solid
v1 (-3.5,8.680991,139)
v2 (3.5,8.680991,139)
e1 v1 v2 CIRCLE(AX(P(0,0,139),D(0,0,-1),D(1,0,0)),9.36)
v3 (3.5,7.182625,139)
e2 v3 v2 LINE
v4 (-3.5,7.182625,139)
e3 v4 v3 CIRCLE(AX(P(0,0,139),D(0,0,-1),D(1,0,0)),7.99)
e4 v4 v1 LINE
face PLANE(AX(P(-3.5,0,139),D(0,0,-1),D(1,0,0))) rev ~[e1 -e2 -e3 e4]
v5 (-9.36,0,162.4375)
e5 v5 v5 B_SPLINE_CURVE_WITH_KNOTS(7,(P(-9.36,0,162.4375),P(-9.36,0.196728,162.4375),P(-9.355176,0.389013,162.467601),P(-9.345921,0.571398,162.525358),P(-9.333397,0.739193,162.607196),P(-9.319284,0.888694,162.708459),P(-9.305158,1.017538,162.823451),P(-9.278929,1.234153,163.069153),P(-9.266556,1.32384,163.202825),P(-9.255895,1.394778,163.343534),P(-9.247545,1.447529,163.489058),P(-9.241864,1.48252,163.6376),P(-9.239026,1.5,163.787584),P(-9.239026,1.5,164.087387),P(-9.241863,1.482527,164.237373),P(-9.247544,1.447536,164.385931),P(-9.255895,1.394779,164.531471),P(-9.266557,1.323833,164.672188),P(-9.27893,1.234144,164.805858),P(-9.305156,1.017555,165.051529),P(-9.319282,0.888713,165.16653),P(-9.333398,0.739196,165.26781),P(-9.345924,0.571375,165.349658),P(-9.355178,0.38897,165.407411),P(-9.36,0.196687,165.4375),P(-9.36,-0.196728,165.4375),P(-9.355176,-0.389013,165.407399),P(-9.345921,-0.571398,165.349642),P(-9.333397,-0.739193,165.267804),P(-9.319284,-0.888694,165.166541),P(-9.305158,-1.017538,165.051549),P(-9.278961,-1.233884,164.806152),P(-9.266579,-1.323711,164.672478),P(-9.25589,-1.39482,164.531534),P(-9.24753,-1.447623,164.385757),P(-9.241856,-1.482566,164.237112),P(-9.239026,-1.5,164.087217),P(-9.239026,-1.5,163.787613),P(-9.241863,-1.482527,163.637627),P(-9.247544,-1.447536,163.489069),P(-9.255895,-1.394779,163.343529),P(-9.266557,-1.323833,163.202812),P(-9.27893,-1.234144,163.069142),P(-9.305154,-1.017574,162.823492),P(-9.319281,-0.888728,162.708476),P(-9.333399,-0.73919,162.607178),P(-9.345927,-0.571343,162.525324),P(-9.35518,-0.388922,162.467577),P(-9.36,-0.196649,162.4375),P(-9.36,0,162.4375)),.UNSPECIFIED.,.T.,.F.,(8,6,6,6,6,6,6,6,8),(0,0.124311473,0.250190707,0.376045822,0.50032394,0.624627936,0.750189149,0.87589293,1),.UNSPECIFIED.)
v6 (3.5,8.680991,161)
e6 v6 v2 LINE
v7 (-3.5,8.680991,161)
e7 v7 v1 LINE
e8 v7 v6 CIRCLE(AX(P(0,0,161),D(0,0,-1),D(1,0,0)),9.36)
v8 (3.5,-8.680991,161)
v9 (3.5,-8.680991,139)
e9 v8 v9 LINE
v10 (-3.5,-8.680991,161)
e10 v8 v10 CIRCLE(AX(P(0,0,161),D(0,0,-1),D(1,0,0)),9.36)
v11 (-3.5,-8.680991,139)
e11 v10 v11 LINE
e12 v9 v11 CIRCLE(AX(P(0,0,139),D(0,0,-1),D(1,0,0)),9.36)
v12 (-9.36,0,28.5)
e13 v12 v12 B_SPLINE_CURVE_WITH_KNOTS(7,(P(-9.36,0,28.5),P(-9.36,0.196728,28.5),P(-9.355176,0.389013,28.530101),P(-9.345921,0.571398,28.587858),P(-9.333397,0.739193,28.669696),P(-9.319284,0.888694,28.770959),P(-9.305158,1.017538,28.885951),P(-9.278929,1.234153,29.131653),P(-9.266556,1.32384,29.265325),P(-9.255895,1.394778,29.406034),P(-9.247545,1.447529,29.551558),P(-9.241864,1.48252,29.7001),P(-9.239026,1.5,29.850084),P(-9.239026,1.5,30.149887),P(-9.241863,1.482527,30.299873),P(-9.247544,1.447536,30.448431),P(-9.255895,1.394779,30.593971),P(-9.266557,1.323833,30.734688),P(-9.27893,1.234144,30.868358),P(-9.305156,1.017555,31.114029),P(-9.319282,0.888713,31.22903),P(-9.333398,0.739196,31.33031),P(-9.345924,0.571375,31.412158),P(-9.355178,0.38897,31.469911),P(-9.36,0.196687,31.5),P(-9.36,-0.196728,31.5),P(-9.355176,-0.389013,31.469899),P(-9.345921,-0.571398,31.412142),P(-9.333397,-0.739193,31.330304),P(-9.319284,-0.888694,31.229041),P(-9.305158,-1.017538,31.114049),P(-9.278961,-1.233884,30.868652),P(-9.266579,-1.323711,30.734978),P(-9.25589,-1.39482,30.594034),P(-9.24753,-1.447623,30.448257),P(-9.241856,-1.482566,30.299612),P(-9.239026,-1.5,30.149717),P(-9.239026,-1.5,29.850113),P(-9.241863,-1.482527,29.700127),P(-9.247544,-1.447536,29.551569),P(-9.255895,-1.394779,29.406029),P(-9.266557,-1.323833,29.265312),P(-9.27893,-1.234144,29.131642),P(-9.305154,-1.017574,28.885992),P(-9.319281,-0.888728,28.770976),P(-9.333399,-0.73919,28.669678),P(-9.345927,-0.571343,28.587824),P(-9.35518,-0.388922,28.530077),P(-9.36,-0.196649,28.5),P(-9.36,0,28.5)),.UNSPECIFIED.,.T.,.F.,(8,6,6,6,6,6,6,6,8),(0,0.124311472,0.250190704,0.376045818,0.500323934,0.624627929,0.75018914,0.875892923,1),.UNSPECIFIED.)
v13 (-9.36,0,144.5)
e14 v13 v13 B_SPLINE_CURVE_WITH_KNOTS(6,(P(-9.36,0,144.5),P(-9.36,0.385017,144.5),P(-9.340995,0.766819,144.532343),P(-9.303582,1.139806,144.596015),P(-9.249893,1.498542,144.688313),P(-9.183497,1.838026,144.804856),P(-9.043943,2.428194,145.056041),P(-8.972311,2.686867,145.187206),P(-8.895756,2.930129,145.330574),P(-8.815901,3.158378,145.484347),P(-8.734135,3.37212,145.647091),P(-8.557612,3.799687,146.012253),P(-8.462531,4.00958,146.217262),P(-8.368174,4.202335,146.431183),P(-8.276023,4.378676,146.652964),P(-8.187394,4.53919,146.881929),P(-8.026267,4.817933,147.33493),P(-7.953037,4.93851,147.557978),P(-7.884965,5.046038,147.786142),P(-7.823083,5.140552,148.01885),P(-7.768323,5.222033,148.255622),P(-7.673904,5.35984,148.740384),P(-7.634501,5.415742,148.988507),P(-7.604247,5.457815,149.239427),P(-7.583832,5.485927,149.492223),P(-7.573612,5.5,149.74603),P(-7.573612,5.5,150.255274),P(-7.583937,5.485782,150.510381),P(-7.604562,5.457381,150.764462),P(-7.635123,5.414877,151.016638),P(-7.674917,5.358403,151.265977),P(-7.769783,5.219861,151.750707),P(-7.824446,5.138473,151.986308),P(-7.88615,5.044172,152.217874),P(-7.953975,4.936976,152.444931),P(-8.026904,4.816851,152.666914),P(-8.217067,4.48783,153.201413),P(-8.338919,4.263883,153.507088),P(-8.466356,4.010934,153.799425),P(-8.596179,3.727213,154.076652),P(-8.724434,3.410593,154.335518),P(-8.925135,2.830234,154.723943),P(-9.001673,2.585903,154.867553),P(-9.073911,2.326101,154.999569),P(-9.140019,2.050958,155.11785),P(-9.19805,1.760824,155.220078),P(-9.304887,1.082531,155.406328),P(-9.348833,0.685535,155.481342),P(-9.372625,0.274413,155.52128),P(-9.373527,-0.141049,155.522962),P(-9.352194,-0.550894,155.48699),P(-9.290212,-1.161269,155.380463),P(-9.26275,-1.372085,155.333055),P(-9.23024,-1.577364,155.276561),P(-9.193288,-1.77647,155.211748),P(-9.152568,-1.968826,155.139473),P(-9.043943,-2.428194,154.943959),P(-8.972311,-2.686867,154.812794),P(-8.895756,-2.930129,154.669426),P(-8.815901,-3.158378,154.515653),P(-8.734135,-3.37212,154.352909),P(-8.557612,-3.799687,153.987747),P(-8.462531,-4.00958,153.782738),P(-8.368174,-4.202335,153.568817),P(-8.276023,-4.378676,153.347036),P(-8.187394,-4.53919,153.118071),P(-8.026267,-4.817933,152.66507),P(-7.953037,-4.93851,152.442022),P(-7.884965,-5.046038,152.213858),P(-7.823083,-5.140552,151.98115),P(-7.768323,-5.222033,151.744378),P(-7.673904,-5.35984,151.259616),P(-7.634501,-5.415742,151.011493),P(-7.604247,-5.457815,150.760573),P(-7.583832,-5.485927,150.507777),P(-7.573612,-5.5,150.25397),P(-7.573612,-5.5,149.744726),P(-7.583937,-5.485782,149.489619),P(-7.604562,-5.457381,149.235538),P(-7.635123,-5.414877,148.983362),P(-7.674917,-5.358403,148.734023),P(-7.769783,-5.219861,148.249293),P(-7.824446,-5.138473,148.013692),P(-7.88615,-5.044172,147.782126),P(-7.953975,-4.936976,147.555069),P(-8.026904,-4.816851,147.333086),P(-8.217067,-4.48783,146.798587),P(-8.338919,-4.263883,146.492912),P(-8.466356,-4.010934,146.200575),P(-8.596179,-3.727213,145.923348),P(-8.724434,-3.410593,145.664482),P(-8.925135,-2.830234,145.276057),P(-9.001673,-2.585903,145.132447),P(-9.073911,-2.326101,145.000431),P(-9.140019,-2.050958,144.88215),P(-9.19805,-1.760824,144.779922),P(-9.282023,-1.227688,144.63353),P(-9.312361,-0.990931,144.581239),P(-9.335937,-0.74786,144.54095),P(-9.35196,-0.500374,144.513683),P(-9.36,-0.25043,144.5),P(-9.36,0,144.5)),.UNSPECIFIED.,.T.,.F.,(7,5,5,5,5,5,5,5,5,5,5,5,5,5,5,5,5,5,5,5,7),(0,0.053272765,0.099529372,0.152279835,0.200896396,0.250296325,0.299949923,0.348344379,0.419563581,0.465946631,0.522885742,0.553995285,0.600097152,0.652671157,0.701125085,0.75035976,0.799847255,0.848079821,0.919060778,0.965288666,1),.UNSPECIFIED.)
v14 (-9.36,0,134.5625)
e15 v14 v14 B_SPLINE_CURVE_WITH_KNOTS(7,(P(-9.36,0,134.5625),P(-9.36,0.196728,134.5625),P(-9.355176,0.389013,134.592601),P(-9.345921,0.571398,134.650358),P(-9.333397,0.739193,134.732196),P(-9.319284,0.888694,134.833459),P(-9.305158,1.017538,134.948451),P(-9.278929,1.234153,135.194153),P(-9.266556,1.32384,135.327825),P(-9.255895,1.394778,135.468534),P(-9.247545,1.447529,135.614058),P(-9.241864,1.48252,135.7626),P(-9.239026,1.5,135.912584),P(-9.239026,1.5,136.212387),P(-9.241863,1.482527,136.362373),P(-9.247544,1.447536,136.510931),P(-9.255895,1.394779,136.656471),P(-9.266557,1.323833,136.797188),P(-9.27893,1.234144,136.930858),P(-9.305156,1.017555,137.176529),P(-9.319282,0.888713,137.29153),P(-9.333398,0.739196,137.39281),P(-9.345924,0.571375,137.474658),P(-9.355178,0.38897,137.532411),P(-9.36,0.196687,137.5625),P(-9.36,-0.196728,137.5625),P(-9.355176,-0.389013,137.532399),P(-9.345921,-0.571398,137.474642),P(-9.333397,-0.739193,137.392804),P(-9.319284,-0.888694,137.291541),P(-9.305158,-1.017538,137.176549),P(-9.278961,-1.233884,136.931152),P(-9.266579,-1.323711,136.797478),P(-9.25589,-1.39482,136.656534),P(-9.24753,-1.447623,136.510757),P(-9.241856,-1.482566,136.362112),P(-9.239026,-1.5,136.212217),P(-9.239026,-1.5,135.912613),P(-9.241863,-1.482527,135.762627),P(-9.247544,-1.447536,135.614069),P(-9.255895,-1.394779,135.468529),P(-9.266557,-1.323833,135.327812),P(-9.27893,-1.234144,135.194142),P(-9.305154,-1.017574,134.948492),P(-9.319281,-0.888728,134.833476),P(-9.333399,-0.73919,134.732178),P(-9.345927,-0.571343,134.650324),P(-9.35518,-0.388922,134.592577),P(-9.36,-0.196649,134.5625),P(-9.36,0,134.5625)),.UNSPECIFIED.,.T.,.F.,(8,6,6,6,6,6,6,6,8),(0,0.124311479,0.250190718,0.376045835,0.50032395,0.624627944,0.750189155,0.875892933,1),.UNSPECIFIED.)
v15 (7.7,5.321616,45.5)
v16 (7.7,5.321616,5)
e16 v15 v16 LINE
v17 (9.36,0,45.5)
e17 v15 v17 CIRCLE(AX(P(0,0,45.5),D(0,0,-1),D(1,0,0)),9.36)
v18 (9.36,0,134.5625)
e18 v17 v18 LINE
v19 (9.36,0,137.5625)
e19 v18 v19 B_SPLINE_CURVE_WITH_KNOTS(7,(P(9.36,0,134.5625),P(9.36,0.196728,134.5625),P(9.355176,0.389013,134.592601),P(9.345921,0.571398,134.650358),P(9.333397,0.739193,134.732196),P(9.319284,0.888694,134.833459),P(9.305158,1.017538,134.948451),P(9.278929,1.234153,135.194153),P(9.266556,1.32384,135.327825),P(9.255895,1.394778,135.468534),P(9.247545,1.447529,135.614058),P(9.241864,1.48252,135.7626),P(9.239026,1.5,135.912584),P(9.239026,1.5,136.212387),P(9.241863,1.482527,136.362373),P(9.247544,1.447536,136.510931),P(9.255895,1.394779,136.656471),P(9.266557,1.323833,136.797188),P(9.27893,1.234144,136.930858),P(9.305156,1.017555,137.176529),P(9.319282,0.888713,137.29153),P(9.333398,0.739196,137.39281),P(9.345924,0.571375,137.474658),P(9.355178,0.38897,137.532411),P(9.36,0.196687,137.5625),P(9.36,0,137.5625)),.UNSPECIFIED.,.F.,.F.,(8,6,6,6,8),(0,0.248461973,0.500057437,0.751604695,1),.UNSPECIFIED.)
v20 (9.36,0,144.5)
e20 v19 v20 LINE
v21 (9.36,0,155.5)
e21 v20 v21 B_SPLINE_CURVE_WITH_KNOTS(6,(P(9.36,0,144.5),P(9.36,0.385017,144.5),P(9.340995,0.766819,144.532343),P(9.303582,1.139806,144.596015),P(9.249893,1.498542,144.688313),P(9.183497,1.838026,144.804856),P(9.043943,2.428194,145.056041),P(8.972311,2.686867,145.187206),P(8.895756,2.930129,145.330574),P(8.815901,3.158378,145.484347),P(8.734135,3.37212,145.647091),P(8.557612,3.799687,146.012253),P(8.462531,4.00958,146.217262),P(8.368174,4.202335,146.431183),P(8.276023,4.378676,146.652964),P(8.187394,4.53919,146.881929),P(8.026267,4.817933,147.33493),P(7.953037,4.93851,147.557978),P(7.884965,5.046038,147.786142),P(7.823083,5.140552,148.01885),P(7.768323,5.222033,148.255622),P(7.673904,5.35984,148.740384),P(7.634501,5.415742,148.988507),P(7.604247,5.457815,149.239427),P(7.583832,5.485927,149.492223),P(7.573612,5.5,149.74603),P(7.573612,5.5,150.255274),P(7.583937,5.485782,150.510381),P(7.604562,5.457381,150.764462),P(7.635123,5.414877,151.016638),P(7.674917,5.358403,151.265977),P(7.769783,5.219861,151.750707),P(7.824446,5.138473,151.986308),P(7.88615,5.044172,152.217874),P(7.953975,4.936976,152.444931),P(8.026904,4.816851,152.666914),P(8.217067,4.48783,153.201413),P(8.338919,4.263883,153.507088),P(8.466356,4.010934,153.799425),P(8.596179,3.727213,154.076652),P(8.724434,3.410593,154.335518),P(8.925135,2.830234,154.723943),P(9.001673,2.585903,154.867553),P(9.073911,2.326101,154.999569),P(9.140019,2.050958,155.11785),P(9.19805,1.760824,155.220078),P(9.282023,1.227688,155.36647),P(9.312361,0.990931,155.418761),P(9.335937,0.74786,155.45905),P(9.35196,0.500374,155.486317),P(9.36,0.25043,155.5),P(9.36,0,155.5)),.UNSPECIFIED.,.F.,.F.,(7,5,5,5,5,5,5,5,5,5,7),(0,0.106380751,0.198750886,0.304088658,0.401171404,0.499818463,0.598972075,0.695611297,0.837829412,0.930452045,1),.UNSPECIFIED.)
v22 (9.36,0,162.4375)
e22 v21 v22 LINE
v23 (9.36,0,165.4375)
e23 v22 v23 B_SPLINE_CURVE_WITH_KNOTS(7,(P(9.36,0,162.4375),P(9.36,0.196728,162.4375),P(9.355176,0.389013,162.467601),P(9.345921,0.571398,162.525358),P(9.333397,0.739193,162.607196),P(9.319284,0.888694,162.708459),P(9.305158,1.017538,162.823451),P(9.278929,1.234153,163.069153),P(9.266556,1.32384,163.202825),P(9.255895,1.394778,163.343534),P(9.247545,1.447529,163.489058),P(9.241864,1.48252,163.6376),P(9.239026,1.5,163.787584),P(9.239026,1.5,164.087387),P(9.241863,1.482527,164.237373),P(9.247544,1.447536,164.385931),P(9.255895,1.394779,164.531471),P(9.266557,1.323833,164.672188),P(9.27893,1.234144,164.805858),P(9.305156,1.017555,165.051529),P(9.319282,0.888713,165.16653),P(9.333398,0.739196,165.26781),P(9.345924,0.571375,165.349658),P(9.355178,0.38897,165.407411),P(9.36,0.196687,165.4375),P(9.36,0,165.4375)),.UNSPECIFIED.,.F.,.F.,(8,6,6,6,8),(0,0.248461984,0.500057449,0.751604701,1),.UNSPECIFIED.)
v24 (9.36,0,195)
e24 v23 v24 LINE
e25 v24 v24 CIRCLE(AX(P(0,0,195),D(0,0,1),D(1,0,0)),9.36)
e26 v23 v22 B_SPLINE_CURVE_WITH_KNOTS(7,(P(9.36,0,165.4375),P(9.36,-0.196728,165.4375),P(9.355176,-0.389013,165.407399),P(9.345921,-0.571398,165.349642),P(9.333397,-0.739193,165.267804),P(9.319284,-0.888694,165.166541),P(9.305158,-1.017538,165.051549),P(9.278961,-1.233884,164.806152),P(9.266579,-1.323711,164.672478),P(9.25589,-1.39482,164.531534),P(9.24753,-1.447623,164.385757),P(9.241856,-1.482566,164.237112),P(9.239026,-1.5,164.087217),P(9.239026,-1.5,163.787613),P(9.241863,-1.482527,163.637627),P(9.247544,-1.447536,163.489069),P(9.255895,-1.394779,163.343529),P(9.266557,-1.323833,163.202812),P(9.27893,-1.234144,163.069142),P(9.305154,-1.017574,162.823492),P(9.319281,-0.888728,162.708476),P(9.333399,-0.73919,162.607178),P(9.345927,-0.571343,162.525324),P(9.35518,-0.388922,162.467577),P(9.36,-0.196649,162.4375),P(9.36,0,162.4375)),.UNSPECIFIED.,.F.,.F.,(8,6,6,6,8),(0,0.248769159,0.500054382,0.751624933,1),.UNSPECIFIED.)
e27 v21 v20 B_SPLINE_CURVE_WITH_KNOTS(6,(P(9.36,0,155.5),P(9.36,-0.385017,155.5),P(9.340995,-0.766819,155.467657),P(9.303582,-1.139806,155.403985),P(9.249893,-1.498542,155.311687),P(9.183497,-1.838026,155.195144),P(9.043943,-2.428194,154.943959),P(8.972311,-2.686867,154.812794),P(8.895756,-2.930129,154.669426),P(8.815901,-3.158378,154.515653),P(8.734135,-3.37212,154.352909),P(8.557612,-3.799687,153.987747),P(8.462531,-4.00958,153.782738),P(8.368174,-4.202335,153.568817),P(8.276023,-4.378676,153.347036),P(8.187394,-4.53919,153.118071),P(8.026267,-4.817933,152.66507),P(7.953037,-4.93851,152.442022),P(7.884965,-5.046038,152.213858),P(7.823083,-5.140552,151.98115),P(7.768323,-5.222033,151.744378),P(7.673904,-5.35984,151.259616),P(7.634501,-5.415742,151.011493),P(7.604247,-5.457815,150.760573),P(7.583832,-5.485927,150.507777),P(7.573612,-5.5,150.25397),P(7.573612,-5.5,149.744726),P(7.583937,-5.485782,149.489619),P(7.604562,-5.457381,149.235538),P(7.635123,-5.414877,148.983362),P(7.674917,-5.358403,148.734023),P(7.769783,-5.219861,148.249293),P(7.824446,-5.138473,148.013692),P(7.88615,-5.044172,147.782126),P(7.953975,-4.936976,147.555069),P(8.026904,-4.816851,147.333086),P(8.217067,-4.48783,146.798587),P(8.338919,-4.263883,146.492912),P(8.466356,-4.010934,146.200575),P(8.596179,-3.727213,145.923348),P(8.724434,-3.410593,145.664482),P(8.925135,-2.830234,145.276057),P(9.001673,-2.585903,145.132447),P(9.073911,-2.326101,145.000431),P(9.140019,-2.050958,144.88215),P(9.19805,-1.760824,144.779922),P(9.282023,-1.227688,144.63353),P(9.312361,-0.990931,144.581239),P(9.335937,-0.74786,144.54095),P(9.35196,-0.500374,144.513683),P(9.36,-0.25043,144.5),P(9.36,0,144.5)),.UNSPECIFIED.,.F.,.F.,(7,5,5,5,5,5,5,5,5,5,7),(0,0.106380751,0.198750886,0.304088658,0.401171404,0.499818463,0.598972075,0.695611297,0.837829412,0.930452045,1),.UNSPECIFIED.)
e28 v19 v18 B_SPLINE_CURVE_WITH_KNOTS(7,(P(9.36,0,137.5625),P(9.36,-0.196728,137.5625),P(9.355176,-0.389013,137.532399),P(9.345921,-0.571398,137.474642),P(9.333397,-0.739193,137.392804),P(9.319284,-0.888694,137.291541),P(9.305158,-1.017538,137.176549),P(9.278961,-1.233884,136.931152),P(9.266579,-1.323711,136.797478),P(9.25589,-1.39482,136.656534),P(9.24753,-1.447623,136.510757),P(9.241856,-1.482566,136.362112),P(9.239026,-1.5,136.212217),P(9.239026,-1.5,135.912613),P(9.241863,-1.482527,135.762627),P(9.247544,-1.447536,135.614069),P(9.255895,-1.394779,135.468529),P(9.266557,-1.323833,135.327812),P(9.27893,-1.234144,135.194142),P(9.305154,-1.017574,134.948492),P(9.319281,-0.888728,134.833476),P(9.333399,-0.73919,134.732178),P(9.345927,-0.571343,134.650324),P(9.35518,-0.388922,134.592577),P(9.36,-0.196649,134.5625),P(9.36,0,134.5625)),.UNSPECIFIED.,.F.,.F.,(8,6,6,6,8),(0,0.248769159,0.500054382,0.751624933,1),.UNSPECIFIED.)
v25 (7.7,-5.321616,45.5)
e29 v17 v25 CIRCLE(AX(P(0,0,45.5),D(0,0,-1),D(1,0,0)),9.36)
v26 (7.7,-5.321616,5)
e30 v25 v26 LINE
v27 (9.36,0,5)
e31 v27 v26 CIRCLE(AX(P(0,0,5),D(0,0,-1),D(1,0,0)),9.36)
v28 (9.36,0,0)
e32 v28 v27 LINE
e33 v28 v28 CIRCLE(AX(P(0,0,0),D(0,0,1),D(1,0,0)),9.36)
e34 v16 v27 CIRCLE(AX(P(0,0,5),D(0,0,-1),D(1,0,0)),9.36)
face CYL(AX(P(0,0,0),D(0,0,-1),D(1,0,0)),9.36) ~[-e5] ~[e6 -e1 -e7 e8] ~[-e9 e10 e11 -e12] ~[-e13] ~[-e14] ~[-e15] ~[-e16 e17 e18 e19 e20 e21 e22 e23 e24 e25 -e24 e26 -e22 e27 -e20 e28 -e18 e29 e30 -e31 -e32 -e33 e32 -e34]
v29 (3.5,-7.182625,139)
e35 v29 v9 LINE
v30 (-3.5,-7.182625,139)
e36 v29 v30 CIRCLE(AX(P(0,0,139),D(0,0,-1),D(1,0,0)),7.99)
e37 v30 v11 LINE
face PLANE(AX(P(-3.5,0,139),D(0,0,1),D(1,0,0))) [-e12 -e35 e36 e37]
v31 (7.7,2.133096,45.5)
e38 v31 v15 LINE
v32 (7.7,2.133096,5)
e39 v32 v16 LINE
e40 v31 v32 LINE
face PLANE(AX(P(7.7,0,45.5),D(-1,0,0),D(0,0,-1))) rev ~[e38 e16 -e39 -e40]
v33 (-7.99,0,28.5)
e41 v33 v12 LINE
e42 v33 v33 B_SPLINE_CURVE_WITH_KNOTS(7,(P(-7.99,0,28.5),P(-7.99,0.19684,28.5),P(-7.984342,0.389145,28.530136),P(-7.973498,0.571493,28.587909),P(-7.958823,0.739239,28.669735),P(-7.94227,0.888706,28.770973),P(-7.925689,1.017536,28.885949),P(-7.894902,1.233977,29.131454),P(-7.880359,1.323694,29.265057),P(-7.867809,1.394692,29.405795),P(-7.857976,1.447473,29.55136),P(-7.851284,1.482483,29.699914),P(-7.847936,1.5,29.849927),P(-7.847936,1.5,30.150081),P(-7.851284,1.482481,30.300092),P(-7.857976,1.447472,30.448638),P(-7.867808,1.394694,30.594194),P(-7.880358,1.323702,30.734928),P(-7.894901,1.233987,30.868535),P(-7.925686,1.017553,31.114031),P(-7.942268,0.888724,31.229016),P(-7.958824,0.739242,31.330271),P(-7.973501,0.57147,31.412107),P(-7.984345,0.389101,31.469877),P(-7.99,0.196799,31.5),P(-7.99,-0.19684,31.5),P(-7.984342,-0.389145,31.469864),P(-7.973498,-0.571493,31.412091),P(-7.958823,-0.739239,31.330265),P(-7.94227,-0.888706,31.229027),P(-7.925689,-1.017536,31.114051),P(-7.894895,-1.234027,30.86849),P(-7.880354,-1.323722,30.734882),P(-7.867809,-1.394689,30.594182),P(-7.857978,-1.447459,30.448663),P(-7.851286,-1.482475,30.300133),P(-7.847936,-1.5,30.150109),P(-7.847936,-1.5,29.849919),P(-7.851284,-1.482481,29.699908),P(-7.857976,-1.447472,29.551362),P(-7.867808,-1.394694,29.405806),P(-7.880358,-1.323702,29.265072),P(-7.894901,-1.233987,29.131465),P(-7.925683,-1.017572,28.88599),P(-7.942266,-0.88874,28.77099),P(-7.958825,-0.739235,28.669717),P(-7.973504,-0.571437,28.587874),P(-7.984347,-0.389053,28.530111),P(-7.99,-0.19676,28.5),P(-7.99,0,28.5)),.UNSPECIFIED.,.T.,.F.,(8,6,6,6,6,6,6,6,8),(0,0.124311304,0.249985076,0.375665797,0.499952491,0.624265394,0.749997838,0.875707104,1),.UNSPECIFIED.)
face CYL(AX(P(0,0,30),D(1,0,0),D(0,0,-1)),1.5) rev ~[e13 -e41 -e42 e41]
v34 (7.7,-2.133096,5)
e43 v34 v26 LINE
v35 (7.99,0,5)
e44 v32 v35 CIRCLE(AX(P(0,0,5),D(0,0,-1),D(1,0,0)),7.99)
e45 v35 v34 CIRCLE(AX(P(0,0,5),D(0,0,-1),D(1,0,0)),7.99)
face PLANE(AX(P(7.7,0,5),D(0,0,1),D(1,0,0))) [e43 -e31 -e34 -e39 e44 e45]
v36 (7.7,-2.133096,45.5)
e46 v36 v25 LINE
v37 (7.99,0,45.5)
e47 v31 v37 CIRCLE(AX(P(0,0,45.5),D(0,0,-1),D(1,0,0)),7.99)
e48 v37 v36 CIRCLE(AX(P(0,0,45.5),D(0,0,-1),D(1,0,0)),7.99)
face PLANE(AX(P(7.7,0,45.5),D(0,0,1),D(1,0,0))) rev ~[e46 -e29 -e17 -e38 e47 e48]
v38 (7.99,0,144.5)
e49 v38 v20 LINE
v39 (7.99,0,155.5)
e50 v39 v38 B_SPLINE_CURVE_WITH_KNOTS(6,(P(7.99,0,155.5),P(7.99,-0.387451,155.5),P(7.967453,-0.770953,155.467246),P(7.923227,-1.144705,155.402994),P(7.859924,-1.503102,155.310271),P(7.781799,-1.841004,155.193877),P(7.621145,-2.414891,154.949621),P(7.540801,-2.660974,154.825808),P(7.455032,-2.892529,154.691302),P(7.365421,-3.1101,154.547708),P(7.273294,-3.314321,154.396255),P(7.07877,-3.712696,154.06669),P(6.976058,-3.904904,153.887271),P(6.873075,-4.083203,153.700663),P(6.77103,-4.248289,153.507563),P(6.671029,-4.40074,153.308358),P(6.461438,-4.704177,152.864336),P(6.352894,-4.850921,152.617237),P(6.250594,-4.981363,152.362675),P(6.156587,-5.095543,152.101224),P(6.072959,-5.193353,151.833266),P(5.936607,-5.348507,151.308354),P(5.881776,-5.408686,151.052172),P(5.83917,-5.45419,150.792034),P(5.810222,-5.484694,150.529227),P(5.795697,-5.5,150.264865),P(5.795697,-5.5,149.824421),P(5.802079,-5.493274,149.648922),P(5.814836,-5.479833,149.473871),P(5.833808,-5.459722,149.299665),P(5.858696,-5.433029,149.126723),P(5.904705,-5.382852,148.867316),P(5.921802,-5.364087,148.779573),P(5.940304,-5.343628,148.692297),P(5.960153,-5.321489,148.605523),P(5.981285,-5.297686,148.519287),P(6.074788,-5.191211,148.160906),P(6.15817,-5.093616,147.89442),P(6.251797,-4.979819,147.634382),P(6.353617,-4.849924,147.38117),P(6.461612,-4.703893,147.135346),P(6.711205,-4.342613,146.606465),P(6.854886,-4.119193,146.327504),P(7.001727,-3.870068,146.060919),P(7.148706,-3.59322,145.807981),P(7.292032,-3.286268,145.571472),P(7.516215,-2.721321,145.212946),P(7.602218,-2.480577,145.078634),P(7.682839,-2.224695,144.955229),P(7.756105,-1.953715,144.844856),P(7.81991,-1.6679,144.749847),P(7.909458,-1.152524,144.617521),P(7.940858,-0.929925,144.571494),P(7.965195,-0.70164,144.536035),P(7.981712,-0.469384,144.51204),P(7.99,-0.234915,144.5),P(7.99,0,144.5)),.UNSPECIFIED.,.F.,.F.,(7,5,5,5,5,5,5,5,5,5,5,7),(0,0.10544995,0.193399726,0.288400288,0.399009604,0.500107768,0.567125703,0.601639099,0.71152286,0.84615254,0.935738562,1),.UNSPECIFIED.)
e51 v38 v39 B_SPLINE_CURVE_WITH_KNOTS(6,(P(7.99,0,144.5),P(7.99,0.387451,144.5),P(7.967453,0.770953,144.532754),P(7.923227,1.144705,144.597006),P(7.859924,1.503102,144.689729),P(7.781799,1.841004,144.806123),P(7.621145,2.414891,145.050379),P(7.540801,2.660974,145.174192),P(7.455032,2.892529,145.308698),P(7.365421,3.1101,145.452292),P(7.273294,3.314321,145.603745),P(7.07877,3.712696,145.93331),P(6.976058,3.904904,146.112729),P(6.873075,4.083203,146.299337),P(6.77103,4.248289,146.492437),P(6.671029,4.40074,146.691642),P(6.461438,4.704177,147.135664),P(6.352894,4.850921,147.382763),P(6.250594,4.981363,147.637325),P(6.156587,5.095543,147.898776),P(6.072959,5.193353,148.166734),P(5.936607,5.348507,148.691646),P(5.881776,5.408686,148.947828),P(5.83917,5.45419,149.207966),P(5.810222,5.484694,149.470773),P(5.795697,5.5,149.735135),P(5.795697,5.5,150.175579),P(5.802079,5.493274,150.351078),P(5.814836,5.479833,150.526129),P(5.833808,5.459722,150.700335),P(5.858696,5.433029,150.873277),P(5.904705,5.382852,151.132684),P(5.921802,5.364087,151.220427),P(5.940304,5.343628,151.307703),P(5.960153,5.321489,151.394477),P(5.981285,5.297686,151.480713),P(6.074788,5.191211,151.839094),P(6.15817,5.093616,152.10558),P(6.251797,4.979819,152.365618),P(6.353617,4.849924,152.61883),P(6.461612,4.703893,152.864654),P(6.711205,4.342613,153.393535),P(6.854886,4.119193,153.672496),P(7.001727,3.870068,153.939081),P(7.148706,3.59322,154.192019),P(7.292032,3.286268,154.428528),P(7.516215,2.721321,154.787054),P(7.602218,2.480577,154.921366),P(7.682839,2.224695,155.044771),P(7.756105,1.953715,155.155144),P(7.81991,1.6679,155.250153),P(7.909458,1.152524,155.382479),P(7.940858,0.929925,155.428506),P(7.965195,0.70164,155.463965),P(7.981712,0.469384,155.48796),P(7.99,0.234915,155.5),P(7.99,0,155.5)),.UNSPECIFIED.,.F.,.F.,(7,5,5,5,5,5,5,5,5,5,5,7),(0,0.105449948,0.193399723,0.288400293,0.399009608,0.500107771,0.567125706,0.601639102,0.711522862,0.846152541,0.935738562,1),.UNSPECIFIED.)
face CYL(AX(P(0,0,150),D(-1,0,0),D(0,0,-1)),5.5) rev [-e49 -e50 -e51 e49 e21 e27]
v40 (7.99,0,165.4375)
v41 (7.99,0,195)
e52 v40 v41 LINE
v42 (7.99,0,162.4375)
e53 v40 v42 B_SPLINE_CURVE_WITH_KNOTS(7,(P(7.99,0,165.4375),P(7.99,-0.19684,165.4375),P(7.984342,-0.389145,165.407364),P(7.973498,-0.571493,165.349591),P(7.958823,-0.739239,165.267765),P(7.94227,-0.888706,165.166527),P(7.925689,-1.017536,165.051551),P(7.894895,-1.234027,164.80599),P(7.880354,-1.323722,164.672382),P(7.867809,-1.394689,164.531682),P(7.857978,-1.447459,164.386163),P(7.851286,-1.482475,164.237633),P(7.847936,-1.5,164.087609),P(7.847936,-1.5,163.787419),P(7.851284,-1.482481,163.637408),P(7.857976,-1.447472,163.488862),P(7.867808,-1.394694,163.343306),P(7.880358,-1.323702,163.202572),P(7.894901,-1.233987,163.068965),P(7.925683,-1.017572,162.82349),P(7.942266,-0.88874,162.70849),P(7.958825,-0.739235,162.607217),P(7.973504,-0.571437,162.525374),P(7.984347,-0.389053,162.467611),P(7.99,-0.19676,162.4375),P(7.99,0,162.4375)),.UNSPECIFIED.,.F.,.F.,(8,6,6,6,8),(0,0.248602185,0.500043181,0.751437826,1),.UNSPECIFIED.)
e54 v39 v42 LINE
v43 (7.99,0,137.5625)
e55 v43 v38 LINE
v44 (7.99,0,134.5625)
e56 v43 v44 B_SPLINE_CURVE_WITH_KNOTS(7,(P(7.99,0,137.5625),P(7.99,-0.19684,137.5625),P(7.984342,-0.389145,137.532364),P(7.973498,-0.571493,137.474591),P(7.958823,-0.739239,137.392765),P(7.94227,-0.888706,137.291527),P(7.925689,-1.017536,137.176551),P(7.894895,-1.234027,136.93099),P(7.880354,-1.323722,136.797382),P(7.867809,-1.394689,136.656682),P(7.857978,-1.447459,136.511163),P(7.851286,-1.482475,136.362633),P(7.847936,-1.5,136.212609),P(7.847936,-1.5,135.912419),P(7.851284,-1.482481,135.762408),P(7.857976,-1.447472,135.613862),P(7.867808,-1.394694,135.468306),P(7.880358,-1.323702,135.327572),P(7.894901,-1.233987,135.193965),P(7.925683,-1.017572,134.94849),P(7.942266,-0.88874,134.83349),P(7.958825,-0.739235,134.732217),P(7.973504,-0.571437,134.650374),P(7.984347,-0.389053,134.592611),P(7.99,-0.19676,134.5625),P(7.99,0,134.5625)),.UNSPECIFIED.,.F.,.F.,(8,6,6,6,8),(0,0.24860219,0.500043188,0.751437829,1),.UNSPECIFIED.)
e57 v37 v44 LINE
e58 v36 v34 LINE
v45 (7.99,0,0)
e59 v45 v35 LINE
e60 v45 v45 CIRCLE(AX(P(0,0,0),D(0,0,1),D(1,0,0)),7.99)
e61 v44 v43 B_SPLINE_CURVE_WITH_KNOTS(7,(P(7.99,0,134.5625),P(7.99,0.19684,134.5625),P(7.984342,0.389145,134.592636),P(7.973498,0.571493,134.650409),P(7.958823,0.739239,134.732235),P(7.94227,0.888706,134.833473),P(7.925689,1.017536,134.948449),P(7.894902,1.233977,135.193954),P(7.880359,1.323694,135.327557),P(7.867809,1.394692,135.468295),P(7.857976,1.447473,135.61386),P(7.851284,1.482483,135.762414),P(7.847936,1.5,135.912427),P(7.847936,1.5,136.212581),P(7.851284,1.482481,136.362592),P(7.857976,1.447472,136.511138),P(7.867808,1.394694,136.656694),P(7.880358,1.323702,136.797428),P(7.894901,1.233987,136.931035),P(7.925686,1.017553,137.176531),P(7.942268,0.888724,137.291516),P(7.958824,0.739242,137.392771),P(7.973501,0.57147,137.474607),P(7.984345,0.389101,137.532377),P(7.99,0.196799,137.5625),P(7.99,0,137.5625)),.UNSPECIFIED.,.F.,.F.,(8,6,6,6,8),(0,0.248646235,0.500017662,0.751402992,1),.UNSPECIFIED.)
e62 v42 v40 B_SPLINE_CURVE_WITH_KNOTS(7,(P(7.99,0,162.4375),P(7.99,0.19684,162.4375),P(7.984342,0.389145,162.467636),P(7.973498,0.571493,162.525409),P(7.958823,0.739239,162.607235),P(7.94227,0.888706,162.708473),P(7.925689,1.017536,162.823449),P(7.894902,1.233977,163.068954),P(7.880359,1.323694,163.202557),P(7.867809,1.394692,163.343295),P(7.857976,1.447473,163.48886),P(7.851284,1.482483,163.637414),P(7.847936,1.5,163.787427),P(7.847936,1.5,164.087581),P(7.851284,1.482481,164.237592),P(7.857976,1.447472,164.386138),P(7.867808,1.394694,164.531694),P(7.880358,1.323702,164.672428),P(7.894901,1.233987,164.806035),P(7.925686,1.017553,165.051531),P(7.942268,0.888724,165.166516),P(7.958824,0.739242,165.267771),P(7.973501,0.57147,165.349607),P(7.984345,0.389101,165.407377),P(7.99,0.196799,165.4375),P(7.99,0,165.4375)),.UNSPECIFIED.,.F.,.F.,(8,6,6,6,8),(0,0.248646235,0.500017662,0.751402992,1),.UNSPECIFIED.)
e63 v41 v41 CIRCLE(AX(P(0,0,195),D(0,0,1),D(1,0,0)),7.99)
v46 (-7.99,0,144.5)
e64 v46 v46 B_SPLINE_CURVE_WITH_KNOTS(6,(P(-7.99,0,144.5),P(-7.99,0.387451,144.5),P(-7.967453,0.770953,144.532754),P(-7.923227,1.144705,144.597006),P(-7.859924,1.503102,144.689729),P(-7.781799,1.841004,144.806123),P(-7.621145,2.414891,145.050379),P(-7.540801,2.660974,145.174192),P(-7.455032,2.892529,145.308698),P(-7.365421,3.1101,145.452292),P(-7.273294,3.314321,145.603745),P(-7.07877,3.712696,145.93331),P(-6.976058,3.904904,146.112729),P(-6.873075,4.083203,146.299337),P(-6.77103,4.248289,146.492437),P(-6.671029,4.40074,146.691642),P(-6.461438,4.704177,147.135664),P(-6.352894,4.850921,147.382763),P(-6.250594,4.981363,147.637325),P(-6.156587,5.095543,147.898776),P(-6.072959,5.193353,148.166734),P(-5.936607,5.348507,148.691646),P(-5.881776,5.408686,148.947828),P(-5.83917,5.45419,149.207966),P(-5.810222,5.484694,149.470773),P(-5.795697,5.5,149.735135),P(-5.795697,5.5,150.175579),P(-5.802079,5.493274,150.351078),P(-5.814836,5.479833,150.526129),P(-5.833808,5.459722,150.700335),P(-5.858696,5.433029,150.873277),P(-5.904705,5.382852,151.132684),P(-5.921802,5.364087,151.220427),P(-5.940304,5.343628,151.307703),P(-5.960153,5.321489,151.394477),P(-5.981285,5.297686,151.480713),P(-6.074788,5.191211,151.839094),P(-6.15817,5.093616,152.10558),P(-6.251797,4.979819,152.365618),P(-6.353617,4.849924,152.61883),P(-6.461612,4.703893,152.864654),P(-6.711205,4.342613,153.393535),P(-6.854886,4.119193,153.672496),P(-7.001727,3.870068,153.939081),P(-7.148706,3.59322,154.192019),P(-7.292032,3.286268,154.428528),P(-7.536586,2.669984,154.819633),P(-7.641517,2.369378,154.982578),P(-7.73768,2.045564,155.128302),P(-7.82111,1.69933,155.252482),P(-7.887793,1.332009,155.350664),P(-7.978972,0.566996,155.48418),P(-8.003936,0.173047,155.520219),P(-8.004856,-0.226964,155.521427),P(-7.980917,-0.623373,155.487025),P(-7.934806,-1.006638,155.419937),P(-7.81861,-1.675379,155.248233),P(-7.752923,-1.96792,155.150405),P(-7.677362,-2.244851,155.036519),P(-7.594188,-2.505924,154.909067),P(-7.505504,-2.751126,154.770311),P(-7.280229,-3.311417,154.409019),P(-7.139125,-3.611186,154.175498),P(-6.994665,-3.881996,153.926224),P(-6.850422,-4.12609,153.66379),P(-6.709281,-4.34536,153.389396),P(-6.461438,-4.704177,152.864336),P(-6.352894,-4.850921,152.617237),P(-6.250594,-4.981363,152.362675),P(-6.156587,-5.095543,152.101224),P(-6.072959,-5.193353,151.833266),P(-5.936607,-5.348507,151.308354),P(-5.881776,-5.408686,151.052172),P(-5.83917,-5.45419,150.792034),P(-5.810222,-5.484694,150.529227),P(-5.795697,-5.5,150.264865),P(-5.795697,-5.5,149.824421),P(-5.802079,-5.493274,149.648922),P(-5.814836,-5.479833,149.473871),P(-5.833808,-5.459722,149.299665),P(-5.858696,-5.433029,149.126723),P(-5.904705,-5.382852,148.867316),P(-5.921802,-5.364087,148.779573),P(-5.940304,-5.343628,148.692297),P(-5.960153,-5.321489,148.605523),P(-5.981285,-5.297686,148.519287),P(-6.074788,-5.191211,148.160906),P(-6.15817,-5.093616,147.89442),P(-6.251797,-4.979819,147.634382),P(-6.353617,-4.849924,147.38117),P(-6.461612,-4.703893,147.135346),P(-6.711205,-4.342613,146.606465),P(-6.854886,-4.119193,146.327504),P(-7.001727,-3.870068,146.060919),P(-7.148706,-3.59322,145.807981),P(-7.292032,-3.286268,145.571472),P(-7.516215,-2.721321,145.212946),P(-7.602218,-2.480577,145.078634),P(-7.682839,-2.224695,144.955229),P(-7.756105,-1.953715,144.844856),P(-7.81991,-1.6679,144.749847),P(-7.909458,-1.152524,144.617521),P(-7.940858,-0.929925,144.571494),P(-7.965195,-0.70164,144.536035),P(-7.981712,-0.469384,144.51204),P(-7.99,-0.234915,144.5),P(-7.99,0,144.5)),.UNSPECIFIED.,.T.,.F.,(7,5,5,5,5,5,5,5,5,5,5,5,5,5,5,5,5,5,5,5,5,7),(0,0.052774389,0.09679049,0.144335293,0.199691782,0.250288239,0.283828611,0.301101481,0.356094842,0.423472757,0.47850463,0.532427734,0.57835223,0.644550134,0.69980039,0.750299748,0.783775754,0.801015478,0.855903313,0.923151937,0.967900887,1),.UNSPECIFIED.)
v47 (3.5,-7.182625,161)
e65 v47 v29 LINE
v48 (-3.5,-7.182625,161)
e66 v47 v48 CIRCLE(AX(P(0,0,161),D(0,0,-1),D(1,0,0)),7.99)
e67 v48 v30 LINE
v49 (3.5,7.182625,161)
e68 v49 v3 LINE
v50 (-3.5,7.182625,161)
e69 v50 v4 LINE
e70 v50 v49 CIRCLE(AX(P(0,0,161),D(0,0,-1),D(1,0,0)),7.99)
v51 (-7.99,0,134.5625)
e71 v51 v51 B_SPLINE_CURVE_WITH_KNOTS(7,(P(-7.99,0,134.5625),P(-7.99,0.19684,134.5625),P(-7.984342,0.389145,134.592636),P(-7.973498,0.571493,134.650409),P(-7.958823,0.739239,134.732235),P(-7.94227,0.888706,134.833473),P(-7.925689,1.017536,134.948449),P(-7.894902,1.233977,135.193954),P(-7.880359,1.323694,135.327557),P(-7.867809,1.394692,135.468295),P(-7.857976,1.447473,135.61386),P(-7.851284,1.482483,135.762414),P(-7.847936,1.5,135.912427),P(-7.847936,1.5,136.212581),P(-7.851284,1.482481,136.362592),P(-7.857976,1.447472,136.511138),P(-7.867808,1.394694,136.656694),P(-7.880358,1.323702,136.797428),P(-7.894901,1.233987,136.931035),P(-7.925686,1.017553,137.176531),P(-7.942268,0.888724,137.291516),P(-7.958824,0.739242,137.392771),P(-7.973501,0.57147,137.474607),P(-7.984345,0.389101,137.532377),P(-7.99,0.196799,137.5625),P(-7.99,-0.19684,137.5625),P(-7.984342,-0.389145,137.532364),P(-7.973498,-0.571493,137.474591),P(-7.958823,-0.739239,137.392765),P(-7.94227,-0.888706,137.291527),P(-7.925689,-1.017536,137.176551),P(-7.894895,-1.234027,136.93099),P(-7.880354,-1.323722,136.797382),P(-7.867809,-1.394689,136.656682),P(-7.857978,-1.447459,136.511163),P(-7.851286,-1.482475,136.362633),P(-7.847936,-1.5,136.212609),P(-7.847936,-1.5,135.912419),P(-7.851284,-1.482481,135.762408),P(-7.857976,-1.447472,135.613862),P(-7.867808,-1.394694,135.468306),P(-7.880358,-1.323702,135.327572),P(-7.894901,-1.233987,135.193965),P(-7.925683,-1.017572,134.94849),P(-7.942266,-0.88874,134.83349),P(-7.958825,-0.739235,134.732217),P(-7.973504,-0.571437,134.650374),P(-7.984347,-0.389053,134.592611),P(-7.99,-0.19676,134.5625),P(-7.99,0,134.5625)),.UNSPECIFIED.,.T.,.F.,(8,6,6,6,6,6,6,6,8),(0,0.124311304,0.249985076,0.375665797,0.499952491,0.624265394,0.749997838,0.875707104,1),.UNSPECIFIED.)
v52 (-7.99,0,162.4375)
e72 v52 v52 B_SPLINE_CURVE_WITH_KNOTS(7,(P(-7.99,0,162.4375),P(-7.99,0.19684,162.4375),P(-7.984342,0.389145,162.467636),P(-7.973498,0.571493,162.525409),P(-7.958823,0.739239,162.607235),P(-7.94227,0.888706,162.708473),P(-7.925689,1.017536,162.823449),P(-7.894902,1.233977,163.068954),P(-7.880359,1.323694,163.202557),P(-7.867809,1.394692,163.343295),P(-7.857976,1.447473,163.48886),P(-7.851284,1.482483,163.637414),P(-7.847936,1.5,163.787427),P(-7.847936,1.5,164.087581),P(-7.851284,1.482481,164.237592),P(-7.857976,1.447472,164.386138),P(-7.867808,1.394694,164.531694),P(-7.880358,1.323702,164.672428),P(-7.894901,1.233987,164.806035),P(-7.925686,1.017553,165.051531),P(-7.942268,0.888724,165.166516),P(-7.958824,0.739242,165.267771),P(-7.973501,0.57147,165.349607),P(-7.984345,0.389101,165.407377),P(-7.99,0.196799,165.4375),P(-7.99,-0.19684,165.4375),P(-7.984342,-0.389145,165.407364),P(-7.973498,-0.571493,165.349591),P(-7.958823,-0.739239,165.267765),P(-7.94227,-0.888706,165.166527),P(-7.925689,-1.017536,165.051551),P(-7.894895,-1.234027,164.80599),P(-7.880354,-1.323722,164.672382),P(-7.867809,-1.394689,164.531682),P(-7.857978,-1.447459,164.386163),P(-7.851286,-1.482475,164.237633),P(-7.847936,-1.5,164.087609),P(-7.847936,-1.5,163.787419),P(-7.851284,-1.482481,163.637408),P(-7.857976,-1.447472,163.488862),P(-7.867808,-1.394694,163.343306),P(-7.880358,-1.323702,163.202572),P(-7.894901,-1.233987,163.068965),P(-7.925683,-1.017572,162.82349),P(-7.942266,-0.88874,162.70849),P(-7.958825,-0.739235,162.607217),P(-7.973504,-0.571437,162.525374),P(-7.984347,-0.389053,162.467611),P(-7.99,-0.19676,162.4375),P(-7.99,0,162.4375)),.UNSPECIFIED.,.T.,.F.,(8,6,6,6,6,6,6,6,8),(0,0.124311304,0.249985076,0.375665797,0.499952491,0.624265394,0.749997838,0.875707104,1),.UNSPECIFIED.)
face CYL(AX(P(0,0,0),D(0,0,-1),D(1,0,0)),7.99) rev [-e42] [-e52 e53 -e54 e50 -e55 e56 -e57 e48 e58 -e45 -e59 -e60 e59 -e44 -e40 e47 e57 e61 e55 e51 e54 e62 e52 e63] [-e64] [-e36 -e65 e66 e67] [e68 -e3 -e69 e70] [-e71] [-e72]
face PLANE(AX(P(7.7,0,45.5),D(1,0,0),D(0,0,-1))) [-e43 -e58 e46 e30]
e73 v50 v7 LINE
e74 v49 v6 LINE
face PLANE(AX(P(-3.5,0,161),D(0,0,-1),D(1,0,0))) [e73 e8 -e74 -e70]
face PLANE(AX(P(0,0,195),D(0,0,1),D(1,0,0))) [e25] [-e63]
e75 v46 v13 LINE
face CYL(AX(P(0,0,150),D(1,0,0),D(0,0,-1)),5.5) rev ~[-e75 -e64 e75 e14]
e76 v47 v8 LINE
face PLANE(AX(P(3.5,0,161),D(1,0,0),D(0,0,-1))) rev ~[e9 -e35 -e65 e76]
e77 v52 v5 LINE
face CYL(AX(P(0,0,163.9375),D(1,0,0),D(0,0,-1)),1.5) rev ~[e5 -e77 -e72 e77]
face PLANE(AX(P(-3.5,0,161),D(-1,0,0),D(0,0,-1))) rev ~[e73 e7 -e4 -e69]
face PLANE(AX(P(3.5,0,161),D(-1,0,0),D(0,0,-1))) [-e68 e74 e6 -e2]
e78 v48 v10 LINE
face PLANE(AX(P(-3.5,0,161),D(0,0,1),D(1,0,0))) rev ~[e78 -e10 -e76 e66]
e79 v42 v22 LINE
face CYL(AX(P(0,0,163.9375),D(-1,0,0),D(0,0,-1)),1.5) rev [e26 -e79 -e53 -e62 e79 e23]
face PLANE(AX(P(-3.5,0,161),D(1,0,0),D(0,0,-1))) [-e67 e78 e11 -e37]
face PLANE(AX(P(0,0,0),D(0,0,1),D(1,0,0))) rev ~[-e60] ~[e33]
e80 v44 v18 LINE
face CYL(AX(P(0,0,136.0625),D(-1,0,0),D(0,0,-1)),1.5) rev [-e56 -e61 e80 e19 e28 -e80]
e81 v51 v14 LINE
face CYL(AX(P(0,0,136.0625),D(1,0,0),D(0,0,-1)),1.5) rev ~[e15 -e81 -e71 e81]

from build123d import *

# Parameters (mm, degrees)
SKETCH1_R           = 9.36
SKETCH1_R_2         = 7.99
EXTRUDE1_DEPTH      = 195
SKETCH2_R           = 1.5
SKETCH2_R_2         = 5.5
EXTRUDE2_DEPTH      = 10.36
EXTRUDE2_DEPTH_BACK = 10.36
SKETCH3_W           = 6.35
SKETCH3_H           = 40.5
SKETCH3_W_2         = 7
SKETCH3_H_2         = 22
EXTRUDE3_DEPTH      = 25
EXTRUDE3_DEPTH_BACK = 25


with BuildPart() as part:
    # Sketch1 → Extrude1 (new body)
    with BuildSketch(Plane.XY):
        Circle(SKETCH1_R)
        Circle(SKETCH1_R_2, mode=Mode.SUBTRACT)
    extrude(amount=EXTRUDE1_DEPTH)

    # Sketch2 → Extrude2 (cut, two sides)
    with BuildSketch(Plane(origin=(0, 0, 0), x_dir=(0, 0, -1), z_dir=(1, 0, 0))) as extrude2_sk:
        with Locations((-30, 0)):
            Circle(SKETCH2_R)
        with Locations((-150, 0)):
            Circle(SKETCH2_R_2)
        with Locations((-136.0625, 0)):
            Circle(SKETCH2_R)
        with Locations((-163.9375, 0)):
            Circle(SKETCH2_R)
    extrude(amount=EXTRUDE2_DEPTH, mode=Mode.SUBTRACT)
    extrude(extrude2_sk.sketch, amount=-EXTRUDE2_DEPTH_BACK, mode=Mode.SUBTRACT)

    # Sketch3 → Extrude3 (cut, two sides)
    with BuildSketch(Plane(origin=(0, 0, 0), x_dir=(1, 0, 0), z_dir=(0, 1, 0))) as extrude3_sk:
        with Locations((10.875, -25.25)):
            Rectangle(SKETCH3_W, SKETCH3_H)
        with Locations((0, -150)):
            Rectangle(SKETCH3_W_2, SKETCH3_H_2)
    extrude(amount=EXTRUDE3_DEPTH, mode=Mode.SUBTRACT)
    extrude(extrude3_sk.sketch, amount=-EXTRUDE3_DEPTH_BACK, mode=Mode.SUBTRACT)


solid = part.part
